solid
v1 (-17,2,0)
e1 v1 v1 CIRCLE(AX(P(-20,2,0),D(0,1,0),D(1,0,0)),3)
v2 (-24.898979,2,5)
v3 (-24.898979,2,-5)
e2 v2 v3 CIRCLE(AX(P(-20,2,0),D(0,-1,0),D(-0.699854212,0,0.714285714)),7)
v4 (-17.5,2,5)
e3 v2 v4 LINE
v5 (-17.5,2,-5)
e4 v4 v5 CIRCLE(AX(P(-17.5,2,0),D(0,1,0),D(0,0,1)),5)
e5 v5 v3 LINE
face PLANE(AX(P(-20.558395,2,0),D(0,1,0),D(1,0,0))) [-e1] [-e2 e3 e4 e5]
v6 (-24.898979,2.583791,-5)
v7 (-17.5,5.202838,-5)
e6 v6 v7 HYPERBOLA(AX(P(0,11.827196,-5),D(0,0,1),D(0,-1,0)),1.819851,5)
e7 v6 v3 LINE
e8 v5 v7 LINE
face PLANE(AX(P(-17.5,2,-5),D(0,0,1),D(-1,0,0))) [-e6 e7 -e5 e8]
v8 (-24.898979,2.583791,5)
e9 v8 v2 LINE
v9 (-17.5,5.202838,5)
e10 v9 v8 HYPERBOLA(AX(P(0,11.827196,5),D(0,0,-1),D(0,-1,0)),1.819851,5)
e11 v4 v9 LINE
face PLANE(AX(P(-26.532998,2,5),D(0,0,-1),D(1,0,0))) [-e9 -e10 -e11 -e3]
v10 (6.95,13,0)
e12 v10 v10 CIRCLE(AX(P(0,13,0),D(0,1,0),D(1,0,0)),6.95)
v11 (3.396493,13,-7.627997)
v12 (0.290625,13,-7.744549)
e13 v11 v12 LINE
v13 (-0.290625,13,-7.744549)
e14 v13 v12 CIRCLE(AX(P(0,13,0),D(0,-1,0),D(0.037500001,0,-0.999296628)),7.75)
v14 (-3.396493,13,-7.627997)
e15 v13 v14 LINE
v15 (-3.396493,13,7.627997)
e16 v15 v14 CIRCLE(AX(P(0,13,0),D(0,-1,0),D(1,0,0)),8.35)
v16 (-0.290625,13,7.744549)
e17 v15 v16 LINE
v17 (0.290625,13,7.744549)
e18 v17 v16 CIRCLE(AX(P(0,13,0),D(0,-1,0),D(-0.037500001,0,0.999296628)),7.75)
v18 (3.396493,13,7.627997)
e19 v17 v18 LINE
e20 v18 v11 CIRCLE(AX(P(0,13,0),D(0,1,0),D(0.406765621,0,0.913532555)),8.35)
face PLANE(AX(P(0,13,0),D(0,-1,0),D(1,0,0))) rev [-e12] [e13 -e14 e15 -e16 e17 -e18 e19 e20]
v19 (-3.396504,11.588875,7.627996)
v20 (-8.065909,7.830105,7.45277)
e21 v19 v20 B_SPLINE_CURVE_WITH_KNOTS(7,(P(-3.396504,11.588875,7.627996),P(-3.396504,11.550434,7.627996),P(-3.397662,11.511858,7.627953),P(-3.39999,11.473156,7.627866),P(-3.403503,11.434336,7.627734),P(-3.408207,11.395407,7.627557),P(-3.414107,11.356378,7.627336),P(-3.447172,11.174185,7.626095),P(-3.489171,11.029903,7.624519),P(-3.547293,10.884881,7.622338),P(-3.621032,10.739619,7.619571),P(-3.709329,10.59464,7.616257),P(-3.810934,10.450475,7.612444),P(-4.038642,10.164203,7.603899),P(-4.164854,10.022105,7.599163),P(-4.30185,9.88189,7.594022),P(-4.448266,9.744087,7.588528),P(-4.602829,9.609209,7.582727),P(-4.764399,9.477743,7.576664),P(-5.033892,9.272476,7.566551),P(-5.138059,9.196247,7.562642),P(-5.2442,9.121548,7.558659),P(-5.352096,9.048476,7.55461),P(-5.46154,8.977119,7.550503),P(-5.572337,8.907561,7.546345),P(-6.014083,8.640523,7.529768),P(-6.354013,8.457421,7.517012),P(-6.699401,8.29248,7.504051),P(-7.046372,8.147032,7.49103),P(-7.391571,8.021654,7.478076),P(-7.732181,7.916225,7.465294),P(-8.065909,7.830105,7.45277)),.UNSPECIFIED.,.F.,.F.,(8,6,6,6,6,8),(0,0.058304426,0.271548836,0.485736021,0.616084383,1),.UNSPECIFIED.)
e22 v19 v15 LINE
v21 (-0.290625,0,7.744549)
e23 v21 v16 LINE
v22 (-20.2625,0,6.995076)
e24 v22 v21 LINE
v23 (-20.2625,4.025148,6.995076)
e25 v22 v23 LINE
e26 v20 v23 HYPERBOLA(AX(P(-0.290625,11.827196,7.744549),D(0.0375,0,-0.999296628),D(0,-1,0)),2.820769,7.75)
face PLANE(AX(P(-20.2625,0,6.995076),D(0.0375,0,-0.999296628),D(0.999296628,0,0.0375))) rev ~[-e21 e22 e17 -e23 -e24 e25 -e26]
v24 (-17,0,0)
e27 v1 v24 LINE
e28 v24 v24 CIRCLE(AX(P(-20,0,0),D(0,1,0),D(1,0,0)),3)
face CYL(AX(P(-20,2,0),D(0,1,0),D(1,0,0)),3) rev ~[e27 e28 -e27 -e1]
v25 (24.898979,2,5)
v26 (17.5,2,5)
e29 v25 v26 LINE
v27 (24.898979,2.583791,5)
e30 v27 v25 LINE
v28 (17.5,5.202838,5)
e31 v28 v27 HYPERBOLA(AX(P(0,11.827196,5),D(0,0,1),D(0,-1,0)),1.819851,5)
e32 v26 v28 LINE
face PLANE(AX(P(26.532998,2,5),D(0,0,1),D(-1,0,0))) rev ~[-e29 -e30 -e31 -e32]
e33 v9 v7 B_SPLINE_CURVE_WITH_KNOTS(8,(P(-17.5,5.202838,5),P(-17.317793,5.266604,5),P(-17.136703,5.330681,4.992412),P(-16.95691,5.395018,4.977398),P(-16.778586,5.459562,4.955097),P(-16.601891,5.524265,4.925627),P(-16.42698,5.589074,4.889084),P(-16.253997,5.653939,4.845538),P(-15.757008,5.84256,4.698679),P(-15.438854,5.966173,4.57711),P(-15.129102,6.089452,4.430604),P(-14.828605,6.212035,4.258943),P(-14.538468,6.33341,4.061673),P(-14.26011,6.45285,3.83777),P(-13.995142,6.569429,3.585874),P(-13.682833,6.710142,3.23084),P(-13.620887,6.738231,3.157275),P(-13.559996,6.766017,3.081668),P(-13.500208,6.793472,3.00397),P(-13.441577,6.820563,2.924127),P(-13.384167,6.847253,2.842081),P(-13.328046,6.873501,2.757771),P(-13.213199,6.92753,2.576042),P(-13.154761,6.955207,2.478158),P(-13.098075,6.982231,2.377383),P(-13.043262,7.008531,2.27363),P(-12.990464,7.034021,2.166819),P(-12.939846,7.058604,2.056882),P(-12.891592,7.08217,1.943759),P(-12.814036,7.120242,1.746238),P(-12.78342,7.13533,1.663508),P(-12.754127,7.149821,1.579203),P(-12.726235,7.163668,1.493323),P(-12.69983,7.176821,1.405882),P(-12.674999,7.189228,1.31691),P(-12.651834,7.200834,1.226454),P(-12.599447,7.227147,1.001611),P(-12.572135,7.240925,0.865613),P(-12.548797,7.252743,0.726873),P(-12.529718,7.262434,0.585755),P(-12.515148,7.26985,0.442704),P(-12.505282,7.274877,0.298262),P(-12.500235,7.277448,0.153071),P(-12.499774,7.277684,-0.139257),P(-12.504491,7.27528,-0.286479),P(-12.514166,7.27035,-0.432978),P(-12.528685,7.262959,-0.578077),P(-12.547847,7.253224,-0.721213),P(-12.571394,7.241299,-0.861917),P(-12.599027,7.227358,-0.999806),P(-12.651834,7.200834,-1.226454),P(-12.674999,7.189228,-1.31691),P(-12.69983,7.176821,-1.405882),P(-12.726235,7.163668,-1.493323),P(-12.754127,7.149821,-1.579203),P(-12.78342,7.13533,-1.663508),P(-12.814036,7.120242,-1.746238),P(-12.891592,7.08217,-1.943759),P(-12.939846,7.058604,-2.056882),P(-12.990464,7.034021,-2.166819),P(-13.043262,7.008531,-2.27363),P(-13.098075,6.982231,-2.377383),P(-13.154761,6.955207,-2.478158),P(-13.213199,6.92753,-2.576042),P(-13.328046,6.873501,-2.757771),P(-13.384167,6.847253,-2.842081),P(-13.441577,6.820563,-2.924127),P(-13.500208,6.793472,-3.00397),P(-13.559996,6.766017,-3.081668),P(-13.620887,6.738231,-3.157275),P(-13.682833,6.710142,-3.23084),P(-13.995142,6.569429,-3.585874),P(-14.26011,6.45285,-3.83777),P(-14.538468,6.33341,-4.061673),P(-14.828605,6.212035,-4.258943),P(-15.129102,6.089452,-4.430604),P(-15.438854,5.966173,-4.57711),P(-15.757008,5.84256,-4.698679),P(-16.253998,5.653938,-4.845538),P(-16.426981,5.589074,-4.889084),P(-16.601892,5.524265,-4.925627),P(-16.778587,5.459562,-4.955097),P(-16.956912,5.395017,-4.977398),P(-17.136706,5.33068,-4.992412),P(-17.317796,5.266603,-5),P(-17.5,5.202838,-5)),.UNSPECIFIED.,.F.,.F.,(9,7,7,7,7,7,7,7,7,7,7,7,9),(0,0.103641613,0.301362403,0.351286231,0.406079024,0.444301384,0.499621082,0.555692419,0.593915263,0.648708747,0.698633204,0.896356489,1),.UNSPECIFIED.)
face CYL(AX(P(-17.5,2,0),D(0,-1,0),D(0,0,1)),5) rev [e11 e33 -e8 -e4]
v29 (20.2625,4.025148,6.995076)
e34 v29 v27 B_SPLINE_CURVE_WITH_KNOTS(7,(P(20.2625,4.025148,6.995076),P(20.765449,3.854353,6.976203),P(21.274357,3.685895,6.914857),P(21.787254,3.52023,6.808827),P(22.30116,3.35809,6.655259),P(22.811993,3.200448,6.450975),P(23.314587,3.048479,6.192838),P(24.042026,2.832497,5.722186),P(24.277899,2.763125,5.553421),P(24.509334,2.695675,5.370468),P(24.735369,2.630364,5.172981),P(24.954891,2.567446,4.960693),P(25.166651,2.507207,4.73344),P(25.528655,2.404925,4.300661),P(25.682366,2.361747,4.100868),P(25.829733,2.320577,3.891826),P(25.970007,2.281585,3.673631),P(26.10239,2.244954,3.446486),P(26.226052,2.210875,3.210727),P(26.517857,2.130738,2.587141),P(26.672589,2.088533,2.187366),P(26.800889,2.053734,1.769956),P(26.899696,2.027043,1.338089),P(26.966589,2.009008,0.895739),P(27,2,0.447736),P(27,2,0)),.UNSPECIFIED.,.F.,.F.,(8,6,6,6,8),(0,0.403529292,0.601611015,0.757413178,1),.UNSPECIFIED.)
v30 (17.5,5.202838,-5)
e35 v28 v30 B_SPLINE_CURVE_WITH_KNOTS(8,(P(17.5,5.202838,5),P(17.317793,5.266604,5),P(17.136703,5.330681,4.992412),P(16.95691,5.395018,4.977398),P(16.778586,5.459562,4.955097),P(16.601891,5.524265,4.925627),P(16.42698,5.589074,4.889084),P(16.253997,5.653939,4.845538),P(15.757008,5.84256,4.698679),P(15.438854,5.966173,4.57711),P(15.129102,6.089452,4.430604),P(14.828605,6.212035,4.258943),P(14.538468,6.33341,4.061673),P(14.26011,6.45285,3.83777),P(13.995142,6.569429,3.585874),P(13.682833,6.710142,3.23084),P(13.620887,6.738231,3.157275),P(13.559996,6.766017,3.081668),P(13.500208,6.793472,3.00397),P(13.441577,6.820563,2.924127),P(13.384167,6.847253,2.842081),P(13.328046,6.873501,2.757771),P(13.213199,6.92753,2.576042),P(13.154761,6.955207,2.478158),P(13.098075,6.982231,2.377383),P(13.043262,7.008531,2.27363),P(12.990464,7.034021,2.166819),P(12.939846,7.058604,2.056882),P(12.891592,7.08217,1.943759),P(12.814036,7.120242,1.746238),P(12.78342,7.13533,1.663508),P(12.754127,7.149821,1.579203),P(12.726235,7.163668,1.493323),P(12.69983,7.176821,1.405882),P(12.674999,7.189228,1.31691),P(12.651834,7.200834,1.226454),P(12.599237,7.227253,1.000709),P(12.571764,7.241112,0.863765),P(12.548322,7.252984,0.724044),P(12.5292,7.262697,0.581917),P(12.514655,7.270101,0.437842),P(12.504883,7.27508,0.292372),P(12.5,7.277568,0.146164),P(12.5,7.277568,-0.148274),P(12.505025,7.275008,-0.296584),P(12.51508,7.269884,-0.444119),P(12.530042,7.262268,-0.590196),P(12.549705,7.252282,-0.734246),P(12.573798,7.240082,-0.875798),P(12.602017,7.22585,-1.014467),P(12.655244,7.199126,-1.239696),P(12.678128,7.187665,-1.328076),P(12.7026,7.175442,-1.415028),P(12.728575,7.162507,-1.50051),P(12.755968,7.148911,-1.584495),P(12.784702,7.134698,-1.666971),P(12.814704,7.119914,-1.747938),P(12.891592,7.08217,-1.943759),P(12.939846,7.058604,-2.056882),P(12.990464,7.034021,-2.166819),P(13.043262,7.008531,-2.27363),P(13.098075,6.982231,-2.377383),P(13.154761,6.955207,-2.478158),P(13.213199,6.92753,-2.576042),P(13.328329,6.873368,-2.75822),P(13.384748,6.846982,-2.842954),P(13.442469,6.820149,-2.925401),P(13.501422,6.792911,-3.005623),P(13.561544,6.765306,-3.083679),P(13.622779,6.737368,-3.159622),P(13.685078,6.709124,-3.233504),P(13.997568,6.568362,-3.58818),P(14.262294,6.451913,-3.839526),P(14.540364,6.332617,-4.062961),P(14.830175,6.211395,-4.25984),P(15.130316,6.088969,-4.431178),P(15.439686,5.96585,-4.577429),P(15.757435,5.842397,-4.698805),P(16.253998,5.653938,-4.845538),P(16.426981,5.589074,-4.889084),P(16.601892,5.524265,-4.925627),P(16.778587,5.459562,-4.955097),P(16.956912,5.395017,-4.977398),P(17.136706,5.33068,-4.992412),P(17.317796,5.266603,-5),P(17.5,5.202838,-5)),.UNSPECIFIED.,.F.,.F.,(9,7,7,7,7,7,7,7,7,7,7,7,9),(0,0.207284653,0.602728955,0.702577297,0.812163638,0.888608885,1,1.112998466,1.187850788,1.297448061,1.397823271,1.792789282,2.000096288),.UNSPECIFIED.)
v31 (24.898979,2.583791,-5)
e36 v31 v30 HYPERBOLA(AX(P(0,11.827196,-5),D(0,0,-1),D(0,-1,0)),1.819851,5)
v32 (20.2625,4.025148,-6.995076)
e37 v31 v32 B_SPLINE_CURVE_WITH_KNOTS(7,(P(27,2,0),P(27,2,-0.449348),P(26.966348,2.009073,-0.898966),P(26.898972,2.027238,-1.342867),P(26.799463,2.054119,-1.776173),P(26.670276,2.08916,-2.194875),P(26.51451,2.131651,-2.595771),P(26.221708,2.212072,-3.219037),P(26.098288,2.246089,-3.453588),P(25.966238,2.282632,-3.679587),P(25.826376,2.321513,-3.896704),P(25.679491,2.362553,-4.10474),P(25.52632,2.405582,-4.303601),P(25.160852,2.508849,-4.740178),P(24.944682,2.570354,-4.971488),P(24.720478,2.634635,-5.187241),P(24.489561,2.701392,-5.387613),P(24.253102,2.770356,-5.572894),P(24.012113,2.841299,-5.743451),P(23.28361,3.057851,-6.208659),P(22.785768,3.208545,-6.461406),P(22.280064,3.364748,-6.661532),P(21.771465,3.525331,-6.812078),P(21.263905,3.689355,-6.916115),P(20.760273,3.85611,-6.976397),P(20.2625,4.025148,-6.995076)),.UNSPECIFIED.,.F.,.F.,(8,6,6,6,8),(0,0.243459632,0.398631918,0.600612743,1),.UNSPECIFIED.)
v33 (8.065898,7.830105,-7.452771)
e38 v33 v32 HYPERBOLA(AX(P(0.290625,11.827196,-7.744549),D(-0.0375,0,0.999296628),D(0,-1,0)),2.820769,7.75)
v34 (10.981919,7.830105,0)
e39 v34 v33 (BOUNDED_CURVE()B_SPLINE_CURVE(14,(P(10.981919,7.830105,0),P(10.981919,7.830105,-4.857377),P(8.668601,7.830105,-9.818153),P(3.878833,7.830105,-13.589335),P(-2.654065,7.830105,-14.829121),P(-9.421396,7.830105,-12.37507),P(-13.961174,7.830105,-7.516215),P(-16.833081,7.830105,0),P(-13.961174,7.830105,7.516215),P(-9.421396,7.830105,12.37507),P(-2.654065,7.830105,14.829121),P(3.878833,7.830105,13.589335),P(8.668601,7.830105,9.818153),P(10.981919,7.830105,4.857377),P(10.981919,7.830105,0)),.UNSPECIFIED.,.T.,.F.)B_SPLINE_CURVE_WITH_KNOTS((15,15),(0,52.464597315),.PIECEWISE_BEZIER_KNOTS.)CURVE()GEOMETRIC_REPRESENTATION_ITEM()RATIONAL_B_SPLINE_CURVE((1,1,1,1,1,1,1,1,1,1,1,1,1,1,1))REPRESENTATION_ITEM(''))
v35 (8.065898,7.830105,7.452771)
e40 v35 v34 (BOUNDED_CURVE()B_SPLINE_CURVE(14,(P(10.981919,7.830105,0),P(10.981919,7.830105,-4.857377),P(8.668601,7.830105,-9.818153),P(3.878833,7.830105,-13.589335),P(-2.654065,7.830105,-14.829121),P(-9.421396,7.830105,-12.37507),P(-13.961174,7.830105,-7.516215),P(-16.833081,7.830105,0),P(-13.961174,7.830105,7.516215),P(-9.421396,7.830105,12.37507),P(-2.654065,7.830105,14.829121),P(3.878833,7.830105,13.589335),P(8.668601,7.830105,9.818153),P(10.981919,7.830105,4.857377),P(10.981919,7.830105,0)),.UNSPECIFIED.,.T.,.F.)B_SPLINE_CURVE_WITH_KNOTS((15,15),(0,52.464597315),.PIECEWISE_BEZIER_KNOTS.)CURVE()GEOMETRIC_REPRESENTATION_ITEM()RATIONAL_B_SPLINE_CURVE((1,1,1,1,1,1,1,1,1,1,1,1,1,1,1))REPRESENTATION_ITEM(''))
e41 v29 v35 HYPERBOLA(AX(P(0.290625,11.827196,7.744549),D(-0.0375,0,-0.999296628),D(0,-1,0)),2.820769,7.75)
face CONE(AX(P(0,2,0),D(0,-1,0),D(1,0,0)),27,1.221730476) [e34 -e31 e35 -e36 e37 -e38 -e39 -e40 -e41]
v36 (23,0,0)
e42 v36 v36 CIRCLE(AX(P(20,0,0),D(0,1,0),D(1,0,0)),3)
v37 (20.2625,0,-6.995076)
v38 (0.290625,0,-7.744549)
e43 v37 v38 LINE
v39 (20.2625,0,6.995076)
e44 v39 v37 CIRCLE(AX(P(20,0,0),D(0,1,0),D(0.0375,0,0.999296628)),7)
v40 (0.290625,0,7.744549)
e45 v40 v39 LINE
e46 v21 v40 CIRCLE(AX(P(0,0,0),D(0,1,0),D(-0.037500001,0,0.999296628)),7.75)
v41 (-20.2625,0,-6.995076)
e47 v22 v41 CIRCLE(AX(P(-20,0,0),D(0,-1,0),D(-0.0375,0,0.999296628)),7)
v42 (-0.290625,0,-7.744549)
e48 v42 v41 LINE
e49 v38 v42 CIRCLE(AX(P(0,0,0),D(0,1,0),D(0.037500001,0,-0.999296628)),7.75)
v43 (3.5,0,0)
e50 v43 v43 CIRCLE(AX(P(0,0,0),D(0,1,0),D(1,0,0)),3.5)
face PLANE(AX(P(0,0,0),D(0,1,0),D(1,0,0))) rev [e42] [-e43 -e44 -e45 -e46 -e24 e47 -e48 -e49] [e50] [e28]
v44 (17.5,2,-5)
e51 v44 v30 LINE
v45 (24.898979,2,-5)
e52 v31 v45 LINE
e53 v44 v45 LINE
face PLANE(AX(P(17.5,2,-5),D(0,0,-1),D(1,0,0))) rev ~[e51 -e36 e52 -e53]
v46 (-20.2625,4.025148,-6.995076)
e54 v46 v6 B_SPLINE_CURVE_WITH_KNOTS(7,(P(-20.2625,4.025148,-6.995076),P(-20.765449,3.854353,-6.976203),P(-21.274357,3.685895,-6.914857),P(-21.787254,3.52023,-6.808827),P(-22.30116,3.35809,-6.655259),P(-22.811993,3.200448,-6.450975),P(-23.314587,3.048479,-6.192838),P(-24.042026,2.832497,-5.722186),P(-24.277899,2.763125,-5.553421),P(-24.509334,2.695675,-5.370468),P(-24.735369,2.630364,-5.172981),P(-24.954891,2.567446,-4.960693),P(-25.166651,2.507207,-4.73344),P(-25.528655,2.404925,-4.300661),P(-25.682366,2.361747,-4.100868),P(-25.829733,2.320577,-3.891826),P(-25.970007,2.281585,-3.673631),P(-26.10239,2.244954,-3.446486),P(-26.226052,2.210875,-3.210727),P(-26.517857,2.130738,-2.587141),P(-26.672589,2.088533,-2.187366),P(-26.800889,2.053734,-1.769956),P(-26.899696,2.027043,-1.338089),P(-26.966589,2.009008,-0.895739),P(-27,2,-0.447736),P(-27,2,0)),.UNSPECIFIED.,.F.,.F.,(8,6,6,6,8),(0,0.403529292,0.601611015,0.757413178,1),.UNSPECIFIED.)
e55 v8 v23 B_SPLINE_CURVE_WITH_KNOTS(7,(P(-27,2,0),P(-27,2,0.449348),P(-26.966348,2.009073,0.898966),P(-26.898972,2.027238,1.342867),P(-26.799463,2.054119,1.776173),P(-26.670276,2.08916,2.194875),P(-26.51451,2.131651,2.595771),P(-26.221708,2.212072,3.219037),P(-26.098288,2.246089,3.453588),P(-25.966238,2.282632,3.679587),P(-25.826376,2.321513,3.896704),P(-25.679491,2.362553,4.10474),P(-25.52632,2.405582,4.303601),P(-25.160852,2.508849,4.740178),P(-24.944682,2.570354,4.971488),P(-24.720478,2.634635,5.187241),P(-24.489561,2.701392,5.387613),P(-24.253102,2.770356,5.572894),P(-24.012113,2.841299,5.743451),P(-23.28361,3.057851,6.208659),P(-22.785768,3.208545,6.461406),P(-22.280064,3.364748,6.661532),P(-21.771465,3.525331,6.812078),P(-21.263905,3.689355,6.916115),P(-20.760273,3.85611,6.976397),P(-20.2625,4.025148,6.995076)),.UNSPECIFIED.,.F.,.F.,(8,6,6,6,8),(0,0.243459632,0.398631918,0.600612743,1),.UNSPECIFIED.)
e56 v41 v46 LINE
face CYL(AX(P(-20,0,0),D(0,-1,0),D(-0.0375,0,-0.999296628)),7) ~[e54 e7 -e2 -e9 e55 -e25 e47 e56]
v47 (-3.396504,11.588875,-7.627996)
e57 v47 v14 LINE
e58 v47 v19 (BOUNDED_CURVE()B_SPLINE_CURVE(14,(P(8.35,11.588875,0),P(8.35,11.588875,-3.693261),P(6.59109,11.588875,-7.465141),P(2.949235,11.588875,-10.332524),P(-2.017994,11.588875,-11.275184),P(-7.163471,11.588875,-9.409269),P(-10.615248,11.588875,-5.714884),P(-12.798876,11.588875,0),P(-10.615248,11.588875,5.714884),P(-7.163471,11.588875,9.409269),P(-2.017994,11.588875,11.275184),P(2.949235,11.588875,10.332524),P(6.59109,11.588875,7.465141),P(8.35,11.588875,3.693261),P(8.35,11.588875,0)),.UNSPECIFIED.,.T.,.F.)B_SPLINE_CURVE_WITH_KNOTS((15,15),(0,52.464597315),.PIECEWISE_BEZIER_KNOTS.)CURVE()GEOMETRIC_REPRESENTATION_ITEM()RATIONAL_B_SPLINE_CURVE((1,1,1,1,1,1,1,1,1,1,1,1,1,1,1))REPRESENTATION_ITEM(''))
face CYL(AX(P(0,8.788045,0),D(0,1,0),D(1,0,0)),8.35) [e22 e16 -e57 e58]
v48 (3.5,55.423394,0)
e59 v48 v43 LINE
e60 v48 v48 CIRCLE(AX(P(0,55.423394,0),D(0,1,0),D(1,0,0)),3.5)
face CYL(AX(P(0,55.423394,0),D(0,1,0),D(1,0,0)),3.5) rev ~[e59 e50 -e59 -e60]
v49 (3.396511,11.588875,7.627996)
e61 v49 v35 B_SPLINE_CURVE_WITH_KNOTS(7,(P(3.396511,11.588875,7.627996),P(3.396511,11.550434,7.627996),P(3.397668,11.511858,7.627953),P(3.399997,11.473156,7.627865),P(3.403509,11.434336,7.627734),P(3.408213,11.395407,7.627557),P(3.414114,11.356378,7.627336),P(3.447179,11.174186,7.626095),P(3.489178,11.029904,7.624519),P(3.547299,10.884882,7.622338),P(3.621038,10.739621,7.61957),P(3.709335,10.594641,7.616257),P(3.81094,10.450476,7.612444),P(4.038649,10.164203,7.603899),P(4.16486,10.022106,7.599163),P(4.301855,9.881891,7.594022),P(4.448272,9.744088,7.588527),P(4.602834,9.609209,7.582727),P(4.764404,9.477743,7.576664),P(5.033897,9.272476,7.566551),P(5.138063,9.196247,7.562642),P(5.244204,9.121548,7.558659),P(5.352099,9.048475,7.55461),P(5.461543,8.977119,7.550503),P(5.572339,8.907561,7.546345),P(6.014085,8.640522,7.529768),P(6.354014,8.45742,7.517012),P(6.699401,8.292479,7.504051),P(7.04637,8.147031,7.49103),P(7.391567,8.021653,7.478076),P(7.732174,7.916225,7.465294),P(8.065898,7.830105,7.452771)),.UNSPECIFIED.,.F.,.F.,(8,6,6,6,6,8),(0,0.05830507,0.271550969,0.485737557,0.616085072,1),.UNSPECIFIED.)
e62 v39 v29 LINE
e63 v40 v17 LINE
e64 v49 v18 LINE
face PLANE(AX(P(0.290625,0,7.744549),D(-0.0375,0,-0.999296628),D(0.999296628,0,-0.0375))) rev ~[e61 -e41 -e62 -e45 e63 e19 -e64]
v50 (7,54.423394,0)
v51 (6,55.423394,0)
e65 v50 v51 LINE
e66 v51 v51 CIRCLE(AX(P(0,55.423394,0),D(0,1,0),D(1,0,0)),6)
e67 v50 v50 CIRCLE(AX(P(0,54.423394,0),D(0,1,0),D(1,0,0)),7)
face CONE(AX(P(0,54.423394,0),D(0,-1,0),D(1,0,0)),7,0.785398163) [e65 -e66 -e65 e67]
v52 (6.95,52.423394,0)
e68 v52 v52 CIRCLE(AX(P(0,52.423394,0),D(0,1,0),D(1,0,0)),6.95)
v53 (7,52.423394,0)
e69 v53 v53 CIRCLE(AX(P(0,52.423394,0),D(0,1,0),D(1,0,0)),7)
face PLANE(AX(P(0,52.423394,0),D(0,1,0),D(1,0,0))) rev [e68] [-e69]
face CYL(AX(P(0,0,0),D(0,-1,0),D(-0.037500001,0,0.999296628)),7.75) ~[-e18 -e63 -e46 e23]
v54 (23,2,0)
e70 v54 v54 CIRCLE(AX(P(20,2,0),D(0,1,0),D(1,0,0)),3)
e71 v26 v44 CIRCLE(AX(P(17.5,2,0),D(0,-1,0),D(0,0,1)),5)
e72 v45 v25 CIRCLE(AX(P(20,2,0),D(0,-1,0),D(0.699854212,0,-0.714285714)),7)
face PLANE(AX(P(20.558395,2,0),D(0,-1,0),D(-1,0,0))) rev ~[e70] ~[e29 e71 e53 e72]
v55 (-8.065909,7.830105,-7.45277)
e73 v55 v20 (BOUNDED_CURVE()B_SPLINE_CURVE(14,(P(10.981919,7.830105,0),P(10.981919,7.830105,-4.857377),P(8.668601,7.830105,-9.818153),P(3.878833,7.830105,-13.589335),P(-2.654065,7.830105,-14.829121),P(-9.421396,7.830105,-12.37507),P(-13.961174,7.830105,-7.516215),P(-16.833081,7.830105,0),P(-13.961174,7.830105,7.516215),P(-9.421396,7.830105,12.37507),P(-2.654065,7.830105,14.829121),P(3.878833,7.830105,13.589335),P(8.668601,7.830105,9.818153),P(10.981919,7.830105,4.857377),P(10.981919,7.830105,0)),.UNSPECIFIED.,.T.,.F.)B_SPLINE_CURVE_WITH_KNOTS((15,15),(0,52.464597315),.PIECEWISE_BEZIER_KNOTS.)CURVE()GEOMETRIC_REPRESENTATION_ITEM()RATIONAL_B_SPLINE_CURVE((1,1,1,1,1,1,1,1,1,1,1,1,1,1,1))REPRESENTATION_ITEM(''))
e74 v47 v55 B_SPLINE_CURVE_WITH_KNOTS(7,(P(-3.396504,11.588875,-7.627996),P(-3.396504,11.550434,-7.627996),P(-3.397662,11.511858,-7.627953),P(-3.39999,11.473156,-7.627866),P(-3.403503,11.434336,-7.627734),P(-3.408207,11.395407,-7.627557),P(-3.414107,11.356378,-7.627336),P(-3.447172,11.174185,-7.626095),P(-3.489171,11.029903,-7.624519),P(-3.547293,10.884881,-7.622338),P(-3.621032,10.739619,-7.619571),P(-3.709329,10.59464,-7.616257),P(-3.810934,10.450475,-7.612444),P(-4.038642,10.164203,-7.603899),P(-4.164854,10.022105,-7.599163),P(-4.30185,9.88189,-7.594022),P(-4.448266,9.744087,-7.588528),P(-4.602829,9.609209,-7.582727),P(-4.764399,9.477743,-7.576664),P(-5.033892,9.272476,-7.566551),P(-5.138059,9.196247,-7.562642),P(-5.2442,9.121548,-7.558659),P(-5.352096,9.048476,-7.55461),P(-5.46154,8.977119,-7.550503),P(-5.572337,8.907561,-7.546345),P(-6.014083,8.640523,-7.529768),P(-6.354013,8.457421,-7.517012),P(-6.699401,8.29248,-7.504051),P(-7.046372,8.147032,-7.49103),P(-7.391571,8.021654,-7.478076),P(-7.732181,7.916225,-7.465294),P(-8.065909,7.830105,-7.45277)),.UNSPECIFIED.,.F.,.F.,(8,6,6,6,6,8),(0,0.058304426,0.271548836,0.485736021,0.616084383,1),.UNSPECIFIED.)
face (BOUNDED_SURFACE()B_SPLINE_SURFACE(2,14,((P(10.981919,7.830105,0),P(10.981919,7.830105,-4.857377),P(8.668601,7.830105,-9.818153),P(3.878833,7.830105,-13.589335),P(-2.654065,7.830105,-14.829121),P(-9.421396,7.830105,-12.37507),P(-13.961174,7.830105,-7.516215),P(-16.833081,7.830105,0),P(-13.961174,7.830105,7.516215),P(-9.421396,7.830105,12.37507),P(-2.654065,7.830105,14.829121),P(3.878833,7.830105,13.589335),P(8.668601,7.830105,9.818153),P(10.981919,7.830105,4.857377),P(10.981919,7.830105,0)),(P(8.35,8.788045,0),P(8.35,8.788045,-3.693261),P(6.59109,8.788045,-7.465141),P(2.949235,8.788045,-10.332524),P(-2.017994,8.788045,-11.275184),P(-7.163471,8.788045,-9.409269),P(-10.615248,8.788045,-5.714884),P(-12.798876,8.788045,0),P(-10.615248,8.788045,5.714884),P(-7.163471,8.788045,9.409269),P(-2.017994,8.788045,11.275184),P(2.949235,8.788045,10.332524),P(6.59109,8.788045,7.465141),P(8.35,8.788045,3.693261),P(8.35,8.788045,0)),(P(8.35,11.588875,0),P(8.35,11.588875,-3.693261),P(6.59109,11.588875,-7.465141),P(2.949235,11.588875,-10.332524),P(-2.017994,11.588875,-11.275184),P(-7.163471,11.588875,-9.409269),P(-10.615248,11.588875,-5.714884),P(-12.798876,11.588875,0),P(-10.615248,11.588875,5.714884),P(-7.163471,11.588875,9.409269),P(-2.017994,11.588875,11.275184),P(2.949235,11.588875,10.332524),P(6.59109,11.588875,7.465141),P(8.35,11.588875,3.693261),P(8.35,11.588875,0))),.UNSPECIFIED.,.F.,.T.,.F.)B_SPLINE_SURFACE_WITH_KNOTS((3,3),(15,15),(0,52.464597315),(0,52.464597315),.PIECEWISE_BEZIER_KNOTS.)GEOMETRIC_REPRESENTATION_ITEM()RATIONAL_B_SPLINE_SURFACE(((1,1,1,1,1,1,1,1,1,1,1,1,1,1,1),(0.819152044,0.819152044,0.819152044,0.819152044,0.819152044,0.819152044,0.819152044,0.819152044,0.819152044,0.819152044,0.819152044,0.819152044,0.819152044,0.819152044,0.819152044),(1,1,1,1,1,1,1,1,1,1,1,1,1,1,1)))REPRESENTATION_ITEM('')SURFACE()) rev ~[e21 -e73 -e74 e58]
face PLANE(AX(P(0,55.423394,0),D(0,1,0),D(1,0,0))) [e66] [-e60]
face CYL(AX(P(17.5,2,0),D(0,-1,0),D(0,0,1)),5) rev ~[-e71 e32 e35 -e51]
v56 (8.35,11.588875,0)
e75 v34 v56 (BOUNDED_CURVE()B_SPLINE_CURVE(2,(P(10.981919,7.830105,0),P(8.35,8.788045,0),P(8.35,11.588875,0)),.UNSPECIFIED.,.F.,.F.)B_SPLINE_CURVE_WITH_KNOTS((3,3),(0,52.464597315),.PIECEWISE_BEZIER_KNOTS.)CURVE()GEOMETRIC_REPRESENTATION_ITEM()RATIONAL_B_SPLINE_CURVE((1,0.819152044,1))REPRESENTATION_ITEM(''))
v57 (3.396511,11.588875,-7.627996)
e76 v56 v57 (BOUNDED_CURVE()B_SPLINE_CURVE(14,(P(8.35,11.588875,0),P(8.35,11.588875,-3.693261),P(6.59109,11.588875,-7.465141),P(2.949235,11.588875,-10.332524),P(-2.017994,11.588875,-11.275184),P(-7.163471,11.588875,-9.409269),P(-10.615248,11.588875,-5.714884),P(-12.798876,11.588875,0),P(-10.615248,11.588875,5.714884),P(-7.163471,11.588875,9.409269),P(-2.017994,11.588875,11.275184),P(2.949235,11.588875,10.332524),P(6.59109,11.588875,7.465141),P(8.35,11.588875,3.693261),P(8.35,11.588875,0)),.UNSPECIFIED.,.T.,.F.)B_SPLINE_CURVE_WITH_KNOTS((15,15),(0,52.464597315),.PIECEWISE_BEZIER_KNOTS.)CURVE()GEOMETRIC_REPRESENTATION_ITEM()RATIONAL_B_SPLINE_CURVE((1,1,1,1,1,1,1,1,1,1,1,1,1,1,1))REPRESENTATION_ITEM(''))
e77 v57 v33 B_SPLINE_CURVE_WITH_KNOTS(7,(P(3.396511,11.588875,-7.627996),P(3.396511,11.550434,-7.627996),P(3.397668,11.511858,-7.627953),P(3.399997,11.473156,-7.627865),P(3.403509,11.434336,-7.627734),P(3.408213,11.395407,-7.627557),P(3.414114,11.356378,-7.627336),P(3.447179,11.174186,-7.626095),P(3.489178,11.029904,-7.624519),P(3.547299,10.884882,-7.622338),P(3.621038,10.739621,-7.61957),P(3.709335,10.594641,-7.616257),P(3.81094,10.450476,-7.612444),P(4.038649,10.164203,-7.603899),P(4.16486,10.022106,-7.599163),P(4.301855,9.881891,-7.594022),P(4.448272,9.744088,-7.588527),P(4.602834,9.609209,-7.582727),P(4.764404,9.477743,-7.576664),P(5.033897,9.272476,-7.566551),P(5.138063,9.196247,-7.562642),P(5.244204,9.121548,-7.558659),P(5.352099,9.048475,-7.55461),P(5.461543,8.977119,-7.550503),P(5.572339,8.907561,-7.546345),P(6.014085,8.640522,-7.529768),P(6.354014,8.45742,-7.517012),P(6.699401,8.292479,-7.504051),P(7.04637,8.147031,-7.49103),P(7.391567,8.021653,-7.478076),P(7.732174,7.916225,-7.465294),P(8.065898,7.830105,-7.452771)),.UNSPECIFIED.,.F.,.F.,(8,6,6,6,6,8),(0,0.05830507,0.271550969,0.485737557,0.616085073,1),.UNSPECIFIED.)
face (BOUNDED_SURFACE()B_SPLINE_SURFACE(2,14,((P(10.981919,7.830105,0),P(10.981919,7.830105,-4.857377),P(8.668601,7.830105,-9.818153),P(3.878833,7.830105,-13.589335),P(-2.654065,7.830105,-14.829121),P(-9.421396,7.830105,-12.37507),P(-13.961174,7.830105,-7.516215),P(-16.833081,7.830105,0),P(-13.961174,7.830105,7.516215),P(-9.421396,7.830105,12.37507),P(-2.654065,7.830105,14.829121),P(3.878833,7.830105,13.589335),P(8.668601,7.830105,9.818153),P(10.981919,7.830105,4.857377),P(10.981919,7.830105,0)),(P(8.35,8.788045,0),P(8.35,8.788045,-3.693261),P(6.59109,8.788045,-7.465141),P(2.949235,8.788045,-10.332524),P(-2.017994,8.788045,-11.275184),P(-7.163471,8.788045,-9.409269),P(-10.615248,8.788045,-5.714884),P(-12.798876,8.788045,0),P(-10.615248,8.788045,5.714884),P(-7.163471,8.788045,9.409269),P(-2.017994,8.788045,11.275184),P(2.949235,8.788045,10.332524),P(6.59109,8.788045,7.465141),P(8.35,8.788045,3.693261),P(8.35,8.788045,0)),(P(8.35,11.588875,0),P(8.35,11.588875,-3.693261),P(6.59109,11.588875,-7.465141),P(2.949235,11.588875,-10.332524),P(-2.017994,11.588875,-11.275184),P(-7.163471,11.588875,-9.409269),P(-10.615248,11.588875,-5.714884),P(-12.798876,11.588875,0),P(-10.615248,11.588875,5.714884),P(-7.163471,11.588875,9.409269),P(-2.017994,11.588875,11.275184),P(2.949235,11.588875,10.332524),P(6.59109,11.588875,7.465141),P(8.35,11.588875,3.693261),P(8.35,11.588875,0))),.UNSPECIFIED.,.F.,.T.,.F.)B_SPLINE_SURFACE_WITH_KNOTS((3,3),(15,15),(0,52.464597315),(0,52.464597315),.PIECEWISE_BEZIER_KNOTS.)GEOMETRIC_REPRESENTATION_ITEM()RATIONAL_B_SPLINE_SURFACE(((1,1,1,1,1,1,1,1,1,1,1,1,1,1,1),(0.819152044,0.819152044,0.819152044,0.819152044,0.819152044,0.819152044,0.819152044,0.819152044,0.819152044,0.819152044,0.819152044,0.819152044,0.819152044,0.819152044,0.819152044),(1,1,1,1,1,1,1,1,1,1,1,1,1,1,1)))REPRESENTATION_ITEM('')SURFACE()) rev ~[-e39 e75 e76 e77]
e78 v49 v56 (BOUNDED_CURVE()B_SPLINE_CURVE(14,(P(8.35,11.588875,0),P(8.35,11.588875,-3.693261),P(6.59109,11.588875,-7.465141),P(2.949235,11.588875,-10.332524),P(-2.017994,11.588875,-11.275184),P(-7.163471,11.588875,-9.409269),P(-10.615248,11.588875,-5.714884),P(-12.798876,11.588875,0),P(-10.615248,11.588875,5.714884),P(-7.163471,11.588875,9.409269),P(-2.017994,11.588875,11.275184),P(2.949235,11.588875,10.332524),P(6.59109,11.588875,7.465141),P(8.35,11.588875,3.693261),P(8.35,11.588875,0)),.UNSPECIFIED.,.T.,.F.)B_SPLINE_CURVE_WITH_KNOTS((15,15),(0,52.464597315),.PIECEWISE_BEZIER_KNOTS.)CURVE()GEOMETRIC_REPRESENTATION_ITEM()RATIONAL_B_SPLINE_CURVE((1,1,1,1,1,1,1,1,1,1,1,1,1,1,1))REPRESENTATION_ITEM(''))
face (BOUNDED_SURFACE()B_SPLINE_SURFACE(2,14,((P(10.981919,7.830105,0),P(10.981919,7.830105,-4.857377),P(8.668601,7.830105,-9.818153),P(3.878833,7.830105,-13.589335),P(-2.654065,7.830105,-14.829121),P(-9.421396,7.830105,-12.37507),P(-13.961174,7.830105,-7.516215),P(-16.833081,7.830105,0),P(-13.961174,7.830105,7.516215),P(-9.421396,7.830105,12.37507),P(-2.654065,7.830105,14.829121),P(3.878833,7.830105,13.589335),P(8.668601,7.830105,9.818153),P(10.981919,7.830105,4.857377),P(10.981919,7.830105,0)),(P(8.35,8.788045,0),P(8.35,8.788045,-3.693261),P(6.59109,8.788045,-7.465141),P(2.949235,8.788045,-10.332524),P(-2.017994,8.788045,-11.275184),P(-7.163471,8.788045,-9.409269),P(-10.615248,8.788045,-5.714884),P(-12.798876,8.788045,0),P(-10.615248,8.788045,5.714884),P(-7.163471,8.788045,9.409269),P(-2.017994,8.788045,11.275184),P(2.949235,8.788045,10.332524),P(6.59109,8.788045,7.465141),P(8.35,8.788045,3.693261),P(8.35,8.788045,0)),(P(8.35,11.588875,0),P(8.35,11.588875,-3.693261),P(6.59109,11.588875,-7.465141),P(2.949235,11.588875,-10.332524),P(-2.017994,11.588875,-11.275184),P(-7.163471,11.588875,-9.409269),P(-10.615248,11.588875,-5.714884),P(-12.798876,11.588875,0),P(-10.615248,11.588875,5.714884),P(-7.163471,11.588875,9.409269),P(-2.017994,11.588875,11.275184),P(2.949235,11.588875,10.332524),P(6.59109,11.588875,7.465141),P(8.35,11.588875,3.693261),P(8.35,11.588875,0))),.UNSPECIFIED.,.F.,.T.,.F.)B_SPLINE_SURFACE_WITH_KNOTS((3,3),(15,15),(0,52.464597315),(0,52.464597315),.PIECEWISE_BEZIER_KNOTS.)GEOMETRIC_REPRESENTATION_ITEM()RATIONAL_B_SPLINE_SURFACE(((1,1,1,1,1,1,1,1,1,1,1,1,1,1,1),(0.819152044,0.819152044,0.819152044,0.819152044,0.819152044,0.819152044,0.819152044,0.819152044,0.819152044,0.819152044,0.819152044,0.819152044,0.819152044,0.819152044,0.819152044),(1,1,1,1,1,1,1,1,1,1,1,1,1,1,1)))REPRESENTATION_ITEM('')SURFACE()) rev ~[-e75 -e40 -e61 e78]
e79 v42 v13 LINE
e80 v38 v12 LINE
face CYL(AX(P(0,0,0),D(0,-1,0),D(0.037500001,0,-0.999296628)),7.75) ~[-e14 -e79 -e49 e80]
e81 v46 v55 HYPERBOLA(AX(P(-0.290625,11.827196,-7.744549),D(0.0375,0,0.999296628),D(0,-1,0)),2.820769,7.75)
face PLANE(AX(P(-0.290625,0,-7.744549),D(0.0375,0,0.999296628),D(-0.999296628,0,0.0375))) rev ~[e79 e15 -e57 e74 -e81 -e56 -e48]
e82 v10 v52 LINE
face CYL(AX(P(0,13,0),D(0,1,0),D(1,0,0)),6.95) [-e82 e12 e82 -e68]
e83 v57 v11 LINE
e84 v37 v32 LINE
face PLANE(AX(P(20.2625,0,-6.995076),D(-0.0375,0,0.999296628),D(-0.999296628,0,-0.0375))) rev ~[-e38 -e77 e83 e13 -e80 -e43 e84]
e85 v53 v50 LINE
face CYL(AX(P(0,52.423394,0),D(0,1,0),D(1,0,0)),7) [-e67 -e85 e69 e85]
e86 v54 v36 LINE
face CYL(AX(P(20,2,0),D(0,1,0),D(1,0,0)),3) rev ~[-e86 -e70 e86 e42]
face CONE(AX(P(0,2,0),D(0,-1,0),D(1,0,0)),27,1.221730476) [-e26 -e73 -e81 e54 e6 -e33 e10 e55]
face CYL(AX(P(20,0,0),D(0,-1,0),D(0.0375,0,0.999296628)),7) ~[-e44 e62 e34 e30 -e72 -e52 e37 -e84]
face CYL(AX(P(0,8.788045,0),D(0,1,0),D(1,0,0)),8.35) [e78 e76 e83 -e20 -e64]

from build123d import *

# Parameters (mm, degrees)
SZKIC1_W                        = 27
SZKIC1_H                        = 25
ZAOKR_GLENIE1_R                 = 4
SZKIC4_R                        = 3
WYTNIJ_WYCI_GNI_CIE3_DEPTH      = 24.0000001
WYTNIJ_WYCI_GNI_CIE3_DEPTH_BACK = 3
WYTNIJ_WYCI_GNI_CIE2_DEPTH      = 24.0000001
SZKIC5_OUTSIDE_W                = 72.072
SZKIC5_OUTSIDE_H                = 72.072
WYTNIJ_WYCI_GNI_CIE4_DEPTH      = 26.0000001
SZKIC8_W                        = 8.35
SZKIC8_H                        = 12
SZKIC10_R                       = 3.5
WYTNIJ_WYCI_GNI_CIE5_DEPTH      = 56.423393859


with BuildPart() as part:
    # Szkic1 → Obrót1 (revolve)
    with BuildSketch(Plane.XY):
        with Locations((13.5, 12.5)):
            Rectangle(SZKIC1_W, SZKIC1_H)
    revolve(axis=Axis((0, 0, 0), (0, 1, 0)))

    # Szkic2 → Wycięcie-obrót1 (revolve, cut)
    with BuildSketch(Plane.XY):
        Polygon((27, 25), (27, 2), (8.35, 8.788044869), (8.35, 25), align=None)
    revolve(axis=Axis((0, 0, 0), (0, 1, 0)), mode=Mode.SUBTRACT)

    # Zaokrąglenie1
    zaokr_glenie1_edges = [part.edges().sort_by_distance(p)[0] for p in [
        (-8.35, 8.788044869, 0),
    ]]
    fillet(zaokr_glenie1_edges, radius=ZAOKR_GLENIE1_R)

    # Szkic4 → Wytnij-wyciągnięcie3 (cut, two sides)
    with BuildSketch(Plane(origin=(0, 2, 0), x_dir=(1, 0, 0), z_dir=(0, 1, 0))) as wytnij_wyci_gni_cie3_sk:
        with Locations((-20, 0)):
            Circle(SZKIC4_R)
        with Locations((20, 0)):
            Circle(SZKIC4_R)
    extrude(amount=WYTNIJ_WYCI_GNI_CIE3_DEPTH, mode=Mode.SUBTRACT)
    extrude(wytnij_wyci_gni_cie3_sk.sketch, amount=-WYTNIJ_WYCI_GNI_CIE3_DEPTH_BACK, mode=Mode.SUBTRACT)

    # Szkic3 → Wytnij-wyciągnięcie2 (cut, through all)
    with BuildSketch(Plane(origin=(0, 2, 0), x_dir=(1, 0, 0), z_dir=(0, 1, 0))):
        with BuildLine():
            Line((-17.5, 5), (-26.532998323, 5))
            ThreePointArc((-26.532998323, 5), (-27, 0), (-26.532998323, -5))
            Line((-26.532998323, -5), (-17.5, -5))
            ThreePointArc((-17.5, -5), (-12.5, 0), (-17.5, 5))
        make_face()
        with BuildLine():
            Line((17.5, 5), (26.532998323, 5))
            ThreePointArc((26.532998323, 5), (27, 0), (26.532998323, -5))
            Line((26.532998323, -5), (17.5, -5))
            ThreePointArc((17.5, -5), (12.5, 0), (17.5, 5))
        make_face()
    extrude(amount=WYTNIJ_WYCI_GNI_CIE2_DEPTH, mode=Mode.SUBTRACT)

    # Szkic5 outside → Wytnij-wyciągnięcie4 (cut, through all)
    with BuildSketch(Plane.XZ):
        Rectangle(SZKIC5_OUTSIDE_W, SZKIC5_OUTSIDE_H)
        with BuildLine():
            Line((-20.2625, 6.995076393), (-0.290625, 7.744548864))
            ThreePointArc((-0.290625, 7.744548864), (0, 7.75), (0.290625, 7.744548864))
            Line((0.290625, 7.744548864), (20.2625, 6.995076393))
            ThreePointArc((20.2625, 6.995076393), (27, 0), (20.2625, -6.995076393))
            Line((20.2625, -6.995076393), (0.290625, -7.744548864))
            ThreePointArc((0.290625, -7.744548864), (0, -7.75), (-0.290625, -7.744548864))
            Line((-0.290625, -7.744548864), (-20.2625, -6.995076393))
            ThreePointArc((-20.2625, -6.995076393), (-27, 0), (-20.2625, 6.995076393))
        make_face(mode=Mode.SUBTRACT)
    extrude(amount=-WYTNIJ_WYCI_GNI_CIE4_DEPTH, mode=Mode.SUBTRACT)

    # Szkic8 → Wycięcie-obrót2 (revolve, cut)
    with BuildSketch(Plane.XY):
        with Locations((4.175, 19)):
            Rectangle(SZKIC8_W, SZKIC8_H)
    revolve(axis=Axis((0, 25, 0), (0, -1, 0)), mode=Mode.SUBTRACT)

    # Szkic9 → Obrót2 (revolve)
    with BuildSketch(Plane.XY):
        Polygon((6, 55.423393759), (0, 55.423393759), (0, 13), (6.95, 13), (6.95, 52.423393759), (7, 52.423393759), (7, 54.423393759), align=None)
    revolve(axis=Axis((0, 13, 0), (0, 1, 0)))

    # Szkic10 → Wytnij-wyciągnięcie5 (cut, through all)
    with BuildSketch(Plane(origin=(0, 55.423393759, 0), x_dir=(1, 0, 0), z_dir=(0, 1, 0))):
        Circle(SZKIC10_R)
    extrude(amount=-WYTNIJ_WYCI_GNI_CIE5_DEPTH, mode=Mode.SUBTRACT)


solid = part.part
